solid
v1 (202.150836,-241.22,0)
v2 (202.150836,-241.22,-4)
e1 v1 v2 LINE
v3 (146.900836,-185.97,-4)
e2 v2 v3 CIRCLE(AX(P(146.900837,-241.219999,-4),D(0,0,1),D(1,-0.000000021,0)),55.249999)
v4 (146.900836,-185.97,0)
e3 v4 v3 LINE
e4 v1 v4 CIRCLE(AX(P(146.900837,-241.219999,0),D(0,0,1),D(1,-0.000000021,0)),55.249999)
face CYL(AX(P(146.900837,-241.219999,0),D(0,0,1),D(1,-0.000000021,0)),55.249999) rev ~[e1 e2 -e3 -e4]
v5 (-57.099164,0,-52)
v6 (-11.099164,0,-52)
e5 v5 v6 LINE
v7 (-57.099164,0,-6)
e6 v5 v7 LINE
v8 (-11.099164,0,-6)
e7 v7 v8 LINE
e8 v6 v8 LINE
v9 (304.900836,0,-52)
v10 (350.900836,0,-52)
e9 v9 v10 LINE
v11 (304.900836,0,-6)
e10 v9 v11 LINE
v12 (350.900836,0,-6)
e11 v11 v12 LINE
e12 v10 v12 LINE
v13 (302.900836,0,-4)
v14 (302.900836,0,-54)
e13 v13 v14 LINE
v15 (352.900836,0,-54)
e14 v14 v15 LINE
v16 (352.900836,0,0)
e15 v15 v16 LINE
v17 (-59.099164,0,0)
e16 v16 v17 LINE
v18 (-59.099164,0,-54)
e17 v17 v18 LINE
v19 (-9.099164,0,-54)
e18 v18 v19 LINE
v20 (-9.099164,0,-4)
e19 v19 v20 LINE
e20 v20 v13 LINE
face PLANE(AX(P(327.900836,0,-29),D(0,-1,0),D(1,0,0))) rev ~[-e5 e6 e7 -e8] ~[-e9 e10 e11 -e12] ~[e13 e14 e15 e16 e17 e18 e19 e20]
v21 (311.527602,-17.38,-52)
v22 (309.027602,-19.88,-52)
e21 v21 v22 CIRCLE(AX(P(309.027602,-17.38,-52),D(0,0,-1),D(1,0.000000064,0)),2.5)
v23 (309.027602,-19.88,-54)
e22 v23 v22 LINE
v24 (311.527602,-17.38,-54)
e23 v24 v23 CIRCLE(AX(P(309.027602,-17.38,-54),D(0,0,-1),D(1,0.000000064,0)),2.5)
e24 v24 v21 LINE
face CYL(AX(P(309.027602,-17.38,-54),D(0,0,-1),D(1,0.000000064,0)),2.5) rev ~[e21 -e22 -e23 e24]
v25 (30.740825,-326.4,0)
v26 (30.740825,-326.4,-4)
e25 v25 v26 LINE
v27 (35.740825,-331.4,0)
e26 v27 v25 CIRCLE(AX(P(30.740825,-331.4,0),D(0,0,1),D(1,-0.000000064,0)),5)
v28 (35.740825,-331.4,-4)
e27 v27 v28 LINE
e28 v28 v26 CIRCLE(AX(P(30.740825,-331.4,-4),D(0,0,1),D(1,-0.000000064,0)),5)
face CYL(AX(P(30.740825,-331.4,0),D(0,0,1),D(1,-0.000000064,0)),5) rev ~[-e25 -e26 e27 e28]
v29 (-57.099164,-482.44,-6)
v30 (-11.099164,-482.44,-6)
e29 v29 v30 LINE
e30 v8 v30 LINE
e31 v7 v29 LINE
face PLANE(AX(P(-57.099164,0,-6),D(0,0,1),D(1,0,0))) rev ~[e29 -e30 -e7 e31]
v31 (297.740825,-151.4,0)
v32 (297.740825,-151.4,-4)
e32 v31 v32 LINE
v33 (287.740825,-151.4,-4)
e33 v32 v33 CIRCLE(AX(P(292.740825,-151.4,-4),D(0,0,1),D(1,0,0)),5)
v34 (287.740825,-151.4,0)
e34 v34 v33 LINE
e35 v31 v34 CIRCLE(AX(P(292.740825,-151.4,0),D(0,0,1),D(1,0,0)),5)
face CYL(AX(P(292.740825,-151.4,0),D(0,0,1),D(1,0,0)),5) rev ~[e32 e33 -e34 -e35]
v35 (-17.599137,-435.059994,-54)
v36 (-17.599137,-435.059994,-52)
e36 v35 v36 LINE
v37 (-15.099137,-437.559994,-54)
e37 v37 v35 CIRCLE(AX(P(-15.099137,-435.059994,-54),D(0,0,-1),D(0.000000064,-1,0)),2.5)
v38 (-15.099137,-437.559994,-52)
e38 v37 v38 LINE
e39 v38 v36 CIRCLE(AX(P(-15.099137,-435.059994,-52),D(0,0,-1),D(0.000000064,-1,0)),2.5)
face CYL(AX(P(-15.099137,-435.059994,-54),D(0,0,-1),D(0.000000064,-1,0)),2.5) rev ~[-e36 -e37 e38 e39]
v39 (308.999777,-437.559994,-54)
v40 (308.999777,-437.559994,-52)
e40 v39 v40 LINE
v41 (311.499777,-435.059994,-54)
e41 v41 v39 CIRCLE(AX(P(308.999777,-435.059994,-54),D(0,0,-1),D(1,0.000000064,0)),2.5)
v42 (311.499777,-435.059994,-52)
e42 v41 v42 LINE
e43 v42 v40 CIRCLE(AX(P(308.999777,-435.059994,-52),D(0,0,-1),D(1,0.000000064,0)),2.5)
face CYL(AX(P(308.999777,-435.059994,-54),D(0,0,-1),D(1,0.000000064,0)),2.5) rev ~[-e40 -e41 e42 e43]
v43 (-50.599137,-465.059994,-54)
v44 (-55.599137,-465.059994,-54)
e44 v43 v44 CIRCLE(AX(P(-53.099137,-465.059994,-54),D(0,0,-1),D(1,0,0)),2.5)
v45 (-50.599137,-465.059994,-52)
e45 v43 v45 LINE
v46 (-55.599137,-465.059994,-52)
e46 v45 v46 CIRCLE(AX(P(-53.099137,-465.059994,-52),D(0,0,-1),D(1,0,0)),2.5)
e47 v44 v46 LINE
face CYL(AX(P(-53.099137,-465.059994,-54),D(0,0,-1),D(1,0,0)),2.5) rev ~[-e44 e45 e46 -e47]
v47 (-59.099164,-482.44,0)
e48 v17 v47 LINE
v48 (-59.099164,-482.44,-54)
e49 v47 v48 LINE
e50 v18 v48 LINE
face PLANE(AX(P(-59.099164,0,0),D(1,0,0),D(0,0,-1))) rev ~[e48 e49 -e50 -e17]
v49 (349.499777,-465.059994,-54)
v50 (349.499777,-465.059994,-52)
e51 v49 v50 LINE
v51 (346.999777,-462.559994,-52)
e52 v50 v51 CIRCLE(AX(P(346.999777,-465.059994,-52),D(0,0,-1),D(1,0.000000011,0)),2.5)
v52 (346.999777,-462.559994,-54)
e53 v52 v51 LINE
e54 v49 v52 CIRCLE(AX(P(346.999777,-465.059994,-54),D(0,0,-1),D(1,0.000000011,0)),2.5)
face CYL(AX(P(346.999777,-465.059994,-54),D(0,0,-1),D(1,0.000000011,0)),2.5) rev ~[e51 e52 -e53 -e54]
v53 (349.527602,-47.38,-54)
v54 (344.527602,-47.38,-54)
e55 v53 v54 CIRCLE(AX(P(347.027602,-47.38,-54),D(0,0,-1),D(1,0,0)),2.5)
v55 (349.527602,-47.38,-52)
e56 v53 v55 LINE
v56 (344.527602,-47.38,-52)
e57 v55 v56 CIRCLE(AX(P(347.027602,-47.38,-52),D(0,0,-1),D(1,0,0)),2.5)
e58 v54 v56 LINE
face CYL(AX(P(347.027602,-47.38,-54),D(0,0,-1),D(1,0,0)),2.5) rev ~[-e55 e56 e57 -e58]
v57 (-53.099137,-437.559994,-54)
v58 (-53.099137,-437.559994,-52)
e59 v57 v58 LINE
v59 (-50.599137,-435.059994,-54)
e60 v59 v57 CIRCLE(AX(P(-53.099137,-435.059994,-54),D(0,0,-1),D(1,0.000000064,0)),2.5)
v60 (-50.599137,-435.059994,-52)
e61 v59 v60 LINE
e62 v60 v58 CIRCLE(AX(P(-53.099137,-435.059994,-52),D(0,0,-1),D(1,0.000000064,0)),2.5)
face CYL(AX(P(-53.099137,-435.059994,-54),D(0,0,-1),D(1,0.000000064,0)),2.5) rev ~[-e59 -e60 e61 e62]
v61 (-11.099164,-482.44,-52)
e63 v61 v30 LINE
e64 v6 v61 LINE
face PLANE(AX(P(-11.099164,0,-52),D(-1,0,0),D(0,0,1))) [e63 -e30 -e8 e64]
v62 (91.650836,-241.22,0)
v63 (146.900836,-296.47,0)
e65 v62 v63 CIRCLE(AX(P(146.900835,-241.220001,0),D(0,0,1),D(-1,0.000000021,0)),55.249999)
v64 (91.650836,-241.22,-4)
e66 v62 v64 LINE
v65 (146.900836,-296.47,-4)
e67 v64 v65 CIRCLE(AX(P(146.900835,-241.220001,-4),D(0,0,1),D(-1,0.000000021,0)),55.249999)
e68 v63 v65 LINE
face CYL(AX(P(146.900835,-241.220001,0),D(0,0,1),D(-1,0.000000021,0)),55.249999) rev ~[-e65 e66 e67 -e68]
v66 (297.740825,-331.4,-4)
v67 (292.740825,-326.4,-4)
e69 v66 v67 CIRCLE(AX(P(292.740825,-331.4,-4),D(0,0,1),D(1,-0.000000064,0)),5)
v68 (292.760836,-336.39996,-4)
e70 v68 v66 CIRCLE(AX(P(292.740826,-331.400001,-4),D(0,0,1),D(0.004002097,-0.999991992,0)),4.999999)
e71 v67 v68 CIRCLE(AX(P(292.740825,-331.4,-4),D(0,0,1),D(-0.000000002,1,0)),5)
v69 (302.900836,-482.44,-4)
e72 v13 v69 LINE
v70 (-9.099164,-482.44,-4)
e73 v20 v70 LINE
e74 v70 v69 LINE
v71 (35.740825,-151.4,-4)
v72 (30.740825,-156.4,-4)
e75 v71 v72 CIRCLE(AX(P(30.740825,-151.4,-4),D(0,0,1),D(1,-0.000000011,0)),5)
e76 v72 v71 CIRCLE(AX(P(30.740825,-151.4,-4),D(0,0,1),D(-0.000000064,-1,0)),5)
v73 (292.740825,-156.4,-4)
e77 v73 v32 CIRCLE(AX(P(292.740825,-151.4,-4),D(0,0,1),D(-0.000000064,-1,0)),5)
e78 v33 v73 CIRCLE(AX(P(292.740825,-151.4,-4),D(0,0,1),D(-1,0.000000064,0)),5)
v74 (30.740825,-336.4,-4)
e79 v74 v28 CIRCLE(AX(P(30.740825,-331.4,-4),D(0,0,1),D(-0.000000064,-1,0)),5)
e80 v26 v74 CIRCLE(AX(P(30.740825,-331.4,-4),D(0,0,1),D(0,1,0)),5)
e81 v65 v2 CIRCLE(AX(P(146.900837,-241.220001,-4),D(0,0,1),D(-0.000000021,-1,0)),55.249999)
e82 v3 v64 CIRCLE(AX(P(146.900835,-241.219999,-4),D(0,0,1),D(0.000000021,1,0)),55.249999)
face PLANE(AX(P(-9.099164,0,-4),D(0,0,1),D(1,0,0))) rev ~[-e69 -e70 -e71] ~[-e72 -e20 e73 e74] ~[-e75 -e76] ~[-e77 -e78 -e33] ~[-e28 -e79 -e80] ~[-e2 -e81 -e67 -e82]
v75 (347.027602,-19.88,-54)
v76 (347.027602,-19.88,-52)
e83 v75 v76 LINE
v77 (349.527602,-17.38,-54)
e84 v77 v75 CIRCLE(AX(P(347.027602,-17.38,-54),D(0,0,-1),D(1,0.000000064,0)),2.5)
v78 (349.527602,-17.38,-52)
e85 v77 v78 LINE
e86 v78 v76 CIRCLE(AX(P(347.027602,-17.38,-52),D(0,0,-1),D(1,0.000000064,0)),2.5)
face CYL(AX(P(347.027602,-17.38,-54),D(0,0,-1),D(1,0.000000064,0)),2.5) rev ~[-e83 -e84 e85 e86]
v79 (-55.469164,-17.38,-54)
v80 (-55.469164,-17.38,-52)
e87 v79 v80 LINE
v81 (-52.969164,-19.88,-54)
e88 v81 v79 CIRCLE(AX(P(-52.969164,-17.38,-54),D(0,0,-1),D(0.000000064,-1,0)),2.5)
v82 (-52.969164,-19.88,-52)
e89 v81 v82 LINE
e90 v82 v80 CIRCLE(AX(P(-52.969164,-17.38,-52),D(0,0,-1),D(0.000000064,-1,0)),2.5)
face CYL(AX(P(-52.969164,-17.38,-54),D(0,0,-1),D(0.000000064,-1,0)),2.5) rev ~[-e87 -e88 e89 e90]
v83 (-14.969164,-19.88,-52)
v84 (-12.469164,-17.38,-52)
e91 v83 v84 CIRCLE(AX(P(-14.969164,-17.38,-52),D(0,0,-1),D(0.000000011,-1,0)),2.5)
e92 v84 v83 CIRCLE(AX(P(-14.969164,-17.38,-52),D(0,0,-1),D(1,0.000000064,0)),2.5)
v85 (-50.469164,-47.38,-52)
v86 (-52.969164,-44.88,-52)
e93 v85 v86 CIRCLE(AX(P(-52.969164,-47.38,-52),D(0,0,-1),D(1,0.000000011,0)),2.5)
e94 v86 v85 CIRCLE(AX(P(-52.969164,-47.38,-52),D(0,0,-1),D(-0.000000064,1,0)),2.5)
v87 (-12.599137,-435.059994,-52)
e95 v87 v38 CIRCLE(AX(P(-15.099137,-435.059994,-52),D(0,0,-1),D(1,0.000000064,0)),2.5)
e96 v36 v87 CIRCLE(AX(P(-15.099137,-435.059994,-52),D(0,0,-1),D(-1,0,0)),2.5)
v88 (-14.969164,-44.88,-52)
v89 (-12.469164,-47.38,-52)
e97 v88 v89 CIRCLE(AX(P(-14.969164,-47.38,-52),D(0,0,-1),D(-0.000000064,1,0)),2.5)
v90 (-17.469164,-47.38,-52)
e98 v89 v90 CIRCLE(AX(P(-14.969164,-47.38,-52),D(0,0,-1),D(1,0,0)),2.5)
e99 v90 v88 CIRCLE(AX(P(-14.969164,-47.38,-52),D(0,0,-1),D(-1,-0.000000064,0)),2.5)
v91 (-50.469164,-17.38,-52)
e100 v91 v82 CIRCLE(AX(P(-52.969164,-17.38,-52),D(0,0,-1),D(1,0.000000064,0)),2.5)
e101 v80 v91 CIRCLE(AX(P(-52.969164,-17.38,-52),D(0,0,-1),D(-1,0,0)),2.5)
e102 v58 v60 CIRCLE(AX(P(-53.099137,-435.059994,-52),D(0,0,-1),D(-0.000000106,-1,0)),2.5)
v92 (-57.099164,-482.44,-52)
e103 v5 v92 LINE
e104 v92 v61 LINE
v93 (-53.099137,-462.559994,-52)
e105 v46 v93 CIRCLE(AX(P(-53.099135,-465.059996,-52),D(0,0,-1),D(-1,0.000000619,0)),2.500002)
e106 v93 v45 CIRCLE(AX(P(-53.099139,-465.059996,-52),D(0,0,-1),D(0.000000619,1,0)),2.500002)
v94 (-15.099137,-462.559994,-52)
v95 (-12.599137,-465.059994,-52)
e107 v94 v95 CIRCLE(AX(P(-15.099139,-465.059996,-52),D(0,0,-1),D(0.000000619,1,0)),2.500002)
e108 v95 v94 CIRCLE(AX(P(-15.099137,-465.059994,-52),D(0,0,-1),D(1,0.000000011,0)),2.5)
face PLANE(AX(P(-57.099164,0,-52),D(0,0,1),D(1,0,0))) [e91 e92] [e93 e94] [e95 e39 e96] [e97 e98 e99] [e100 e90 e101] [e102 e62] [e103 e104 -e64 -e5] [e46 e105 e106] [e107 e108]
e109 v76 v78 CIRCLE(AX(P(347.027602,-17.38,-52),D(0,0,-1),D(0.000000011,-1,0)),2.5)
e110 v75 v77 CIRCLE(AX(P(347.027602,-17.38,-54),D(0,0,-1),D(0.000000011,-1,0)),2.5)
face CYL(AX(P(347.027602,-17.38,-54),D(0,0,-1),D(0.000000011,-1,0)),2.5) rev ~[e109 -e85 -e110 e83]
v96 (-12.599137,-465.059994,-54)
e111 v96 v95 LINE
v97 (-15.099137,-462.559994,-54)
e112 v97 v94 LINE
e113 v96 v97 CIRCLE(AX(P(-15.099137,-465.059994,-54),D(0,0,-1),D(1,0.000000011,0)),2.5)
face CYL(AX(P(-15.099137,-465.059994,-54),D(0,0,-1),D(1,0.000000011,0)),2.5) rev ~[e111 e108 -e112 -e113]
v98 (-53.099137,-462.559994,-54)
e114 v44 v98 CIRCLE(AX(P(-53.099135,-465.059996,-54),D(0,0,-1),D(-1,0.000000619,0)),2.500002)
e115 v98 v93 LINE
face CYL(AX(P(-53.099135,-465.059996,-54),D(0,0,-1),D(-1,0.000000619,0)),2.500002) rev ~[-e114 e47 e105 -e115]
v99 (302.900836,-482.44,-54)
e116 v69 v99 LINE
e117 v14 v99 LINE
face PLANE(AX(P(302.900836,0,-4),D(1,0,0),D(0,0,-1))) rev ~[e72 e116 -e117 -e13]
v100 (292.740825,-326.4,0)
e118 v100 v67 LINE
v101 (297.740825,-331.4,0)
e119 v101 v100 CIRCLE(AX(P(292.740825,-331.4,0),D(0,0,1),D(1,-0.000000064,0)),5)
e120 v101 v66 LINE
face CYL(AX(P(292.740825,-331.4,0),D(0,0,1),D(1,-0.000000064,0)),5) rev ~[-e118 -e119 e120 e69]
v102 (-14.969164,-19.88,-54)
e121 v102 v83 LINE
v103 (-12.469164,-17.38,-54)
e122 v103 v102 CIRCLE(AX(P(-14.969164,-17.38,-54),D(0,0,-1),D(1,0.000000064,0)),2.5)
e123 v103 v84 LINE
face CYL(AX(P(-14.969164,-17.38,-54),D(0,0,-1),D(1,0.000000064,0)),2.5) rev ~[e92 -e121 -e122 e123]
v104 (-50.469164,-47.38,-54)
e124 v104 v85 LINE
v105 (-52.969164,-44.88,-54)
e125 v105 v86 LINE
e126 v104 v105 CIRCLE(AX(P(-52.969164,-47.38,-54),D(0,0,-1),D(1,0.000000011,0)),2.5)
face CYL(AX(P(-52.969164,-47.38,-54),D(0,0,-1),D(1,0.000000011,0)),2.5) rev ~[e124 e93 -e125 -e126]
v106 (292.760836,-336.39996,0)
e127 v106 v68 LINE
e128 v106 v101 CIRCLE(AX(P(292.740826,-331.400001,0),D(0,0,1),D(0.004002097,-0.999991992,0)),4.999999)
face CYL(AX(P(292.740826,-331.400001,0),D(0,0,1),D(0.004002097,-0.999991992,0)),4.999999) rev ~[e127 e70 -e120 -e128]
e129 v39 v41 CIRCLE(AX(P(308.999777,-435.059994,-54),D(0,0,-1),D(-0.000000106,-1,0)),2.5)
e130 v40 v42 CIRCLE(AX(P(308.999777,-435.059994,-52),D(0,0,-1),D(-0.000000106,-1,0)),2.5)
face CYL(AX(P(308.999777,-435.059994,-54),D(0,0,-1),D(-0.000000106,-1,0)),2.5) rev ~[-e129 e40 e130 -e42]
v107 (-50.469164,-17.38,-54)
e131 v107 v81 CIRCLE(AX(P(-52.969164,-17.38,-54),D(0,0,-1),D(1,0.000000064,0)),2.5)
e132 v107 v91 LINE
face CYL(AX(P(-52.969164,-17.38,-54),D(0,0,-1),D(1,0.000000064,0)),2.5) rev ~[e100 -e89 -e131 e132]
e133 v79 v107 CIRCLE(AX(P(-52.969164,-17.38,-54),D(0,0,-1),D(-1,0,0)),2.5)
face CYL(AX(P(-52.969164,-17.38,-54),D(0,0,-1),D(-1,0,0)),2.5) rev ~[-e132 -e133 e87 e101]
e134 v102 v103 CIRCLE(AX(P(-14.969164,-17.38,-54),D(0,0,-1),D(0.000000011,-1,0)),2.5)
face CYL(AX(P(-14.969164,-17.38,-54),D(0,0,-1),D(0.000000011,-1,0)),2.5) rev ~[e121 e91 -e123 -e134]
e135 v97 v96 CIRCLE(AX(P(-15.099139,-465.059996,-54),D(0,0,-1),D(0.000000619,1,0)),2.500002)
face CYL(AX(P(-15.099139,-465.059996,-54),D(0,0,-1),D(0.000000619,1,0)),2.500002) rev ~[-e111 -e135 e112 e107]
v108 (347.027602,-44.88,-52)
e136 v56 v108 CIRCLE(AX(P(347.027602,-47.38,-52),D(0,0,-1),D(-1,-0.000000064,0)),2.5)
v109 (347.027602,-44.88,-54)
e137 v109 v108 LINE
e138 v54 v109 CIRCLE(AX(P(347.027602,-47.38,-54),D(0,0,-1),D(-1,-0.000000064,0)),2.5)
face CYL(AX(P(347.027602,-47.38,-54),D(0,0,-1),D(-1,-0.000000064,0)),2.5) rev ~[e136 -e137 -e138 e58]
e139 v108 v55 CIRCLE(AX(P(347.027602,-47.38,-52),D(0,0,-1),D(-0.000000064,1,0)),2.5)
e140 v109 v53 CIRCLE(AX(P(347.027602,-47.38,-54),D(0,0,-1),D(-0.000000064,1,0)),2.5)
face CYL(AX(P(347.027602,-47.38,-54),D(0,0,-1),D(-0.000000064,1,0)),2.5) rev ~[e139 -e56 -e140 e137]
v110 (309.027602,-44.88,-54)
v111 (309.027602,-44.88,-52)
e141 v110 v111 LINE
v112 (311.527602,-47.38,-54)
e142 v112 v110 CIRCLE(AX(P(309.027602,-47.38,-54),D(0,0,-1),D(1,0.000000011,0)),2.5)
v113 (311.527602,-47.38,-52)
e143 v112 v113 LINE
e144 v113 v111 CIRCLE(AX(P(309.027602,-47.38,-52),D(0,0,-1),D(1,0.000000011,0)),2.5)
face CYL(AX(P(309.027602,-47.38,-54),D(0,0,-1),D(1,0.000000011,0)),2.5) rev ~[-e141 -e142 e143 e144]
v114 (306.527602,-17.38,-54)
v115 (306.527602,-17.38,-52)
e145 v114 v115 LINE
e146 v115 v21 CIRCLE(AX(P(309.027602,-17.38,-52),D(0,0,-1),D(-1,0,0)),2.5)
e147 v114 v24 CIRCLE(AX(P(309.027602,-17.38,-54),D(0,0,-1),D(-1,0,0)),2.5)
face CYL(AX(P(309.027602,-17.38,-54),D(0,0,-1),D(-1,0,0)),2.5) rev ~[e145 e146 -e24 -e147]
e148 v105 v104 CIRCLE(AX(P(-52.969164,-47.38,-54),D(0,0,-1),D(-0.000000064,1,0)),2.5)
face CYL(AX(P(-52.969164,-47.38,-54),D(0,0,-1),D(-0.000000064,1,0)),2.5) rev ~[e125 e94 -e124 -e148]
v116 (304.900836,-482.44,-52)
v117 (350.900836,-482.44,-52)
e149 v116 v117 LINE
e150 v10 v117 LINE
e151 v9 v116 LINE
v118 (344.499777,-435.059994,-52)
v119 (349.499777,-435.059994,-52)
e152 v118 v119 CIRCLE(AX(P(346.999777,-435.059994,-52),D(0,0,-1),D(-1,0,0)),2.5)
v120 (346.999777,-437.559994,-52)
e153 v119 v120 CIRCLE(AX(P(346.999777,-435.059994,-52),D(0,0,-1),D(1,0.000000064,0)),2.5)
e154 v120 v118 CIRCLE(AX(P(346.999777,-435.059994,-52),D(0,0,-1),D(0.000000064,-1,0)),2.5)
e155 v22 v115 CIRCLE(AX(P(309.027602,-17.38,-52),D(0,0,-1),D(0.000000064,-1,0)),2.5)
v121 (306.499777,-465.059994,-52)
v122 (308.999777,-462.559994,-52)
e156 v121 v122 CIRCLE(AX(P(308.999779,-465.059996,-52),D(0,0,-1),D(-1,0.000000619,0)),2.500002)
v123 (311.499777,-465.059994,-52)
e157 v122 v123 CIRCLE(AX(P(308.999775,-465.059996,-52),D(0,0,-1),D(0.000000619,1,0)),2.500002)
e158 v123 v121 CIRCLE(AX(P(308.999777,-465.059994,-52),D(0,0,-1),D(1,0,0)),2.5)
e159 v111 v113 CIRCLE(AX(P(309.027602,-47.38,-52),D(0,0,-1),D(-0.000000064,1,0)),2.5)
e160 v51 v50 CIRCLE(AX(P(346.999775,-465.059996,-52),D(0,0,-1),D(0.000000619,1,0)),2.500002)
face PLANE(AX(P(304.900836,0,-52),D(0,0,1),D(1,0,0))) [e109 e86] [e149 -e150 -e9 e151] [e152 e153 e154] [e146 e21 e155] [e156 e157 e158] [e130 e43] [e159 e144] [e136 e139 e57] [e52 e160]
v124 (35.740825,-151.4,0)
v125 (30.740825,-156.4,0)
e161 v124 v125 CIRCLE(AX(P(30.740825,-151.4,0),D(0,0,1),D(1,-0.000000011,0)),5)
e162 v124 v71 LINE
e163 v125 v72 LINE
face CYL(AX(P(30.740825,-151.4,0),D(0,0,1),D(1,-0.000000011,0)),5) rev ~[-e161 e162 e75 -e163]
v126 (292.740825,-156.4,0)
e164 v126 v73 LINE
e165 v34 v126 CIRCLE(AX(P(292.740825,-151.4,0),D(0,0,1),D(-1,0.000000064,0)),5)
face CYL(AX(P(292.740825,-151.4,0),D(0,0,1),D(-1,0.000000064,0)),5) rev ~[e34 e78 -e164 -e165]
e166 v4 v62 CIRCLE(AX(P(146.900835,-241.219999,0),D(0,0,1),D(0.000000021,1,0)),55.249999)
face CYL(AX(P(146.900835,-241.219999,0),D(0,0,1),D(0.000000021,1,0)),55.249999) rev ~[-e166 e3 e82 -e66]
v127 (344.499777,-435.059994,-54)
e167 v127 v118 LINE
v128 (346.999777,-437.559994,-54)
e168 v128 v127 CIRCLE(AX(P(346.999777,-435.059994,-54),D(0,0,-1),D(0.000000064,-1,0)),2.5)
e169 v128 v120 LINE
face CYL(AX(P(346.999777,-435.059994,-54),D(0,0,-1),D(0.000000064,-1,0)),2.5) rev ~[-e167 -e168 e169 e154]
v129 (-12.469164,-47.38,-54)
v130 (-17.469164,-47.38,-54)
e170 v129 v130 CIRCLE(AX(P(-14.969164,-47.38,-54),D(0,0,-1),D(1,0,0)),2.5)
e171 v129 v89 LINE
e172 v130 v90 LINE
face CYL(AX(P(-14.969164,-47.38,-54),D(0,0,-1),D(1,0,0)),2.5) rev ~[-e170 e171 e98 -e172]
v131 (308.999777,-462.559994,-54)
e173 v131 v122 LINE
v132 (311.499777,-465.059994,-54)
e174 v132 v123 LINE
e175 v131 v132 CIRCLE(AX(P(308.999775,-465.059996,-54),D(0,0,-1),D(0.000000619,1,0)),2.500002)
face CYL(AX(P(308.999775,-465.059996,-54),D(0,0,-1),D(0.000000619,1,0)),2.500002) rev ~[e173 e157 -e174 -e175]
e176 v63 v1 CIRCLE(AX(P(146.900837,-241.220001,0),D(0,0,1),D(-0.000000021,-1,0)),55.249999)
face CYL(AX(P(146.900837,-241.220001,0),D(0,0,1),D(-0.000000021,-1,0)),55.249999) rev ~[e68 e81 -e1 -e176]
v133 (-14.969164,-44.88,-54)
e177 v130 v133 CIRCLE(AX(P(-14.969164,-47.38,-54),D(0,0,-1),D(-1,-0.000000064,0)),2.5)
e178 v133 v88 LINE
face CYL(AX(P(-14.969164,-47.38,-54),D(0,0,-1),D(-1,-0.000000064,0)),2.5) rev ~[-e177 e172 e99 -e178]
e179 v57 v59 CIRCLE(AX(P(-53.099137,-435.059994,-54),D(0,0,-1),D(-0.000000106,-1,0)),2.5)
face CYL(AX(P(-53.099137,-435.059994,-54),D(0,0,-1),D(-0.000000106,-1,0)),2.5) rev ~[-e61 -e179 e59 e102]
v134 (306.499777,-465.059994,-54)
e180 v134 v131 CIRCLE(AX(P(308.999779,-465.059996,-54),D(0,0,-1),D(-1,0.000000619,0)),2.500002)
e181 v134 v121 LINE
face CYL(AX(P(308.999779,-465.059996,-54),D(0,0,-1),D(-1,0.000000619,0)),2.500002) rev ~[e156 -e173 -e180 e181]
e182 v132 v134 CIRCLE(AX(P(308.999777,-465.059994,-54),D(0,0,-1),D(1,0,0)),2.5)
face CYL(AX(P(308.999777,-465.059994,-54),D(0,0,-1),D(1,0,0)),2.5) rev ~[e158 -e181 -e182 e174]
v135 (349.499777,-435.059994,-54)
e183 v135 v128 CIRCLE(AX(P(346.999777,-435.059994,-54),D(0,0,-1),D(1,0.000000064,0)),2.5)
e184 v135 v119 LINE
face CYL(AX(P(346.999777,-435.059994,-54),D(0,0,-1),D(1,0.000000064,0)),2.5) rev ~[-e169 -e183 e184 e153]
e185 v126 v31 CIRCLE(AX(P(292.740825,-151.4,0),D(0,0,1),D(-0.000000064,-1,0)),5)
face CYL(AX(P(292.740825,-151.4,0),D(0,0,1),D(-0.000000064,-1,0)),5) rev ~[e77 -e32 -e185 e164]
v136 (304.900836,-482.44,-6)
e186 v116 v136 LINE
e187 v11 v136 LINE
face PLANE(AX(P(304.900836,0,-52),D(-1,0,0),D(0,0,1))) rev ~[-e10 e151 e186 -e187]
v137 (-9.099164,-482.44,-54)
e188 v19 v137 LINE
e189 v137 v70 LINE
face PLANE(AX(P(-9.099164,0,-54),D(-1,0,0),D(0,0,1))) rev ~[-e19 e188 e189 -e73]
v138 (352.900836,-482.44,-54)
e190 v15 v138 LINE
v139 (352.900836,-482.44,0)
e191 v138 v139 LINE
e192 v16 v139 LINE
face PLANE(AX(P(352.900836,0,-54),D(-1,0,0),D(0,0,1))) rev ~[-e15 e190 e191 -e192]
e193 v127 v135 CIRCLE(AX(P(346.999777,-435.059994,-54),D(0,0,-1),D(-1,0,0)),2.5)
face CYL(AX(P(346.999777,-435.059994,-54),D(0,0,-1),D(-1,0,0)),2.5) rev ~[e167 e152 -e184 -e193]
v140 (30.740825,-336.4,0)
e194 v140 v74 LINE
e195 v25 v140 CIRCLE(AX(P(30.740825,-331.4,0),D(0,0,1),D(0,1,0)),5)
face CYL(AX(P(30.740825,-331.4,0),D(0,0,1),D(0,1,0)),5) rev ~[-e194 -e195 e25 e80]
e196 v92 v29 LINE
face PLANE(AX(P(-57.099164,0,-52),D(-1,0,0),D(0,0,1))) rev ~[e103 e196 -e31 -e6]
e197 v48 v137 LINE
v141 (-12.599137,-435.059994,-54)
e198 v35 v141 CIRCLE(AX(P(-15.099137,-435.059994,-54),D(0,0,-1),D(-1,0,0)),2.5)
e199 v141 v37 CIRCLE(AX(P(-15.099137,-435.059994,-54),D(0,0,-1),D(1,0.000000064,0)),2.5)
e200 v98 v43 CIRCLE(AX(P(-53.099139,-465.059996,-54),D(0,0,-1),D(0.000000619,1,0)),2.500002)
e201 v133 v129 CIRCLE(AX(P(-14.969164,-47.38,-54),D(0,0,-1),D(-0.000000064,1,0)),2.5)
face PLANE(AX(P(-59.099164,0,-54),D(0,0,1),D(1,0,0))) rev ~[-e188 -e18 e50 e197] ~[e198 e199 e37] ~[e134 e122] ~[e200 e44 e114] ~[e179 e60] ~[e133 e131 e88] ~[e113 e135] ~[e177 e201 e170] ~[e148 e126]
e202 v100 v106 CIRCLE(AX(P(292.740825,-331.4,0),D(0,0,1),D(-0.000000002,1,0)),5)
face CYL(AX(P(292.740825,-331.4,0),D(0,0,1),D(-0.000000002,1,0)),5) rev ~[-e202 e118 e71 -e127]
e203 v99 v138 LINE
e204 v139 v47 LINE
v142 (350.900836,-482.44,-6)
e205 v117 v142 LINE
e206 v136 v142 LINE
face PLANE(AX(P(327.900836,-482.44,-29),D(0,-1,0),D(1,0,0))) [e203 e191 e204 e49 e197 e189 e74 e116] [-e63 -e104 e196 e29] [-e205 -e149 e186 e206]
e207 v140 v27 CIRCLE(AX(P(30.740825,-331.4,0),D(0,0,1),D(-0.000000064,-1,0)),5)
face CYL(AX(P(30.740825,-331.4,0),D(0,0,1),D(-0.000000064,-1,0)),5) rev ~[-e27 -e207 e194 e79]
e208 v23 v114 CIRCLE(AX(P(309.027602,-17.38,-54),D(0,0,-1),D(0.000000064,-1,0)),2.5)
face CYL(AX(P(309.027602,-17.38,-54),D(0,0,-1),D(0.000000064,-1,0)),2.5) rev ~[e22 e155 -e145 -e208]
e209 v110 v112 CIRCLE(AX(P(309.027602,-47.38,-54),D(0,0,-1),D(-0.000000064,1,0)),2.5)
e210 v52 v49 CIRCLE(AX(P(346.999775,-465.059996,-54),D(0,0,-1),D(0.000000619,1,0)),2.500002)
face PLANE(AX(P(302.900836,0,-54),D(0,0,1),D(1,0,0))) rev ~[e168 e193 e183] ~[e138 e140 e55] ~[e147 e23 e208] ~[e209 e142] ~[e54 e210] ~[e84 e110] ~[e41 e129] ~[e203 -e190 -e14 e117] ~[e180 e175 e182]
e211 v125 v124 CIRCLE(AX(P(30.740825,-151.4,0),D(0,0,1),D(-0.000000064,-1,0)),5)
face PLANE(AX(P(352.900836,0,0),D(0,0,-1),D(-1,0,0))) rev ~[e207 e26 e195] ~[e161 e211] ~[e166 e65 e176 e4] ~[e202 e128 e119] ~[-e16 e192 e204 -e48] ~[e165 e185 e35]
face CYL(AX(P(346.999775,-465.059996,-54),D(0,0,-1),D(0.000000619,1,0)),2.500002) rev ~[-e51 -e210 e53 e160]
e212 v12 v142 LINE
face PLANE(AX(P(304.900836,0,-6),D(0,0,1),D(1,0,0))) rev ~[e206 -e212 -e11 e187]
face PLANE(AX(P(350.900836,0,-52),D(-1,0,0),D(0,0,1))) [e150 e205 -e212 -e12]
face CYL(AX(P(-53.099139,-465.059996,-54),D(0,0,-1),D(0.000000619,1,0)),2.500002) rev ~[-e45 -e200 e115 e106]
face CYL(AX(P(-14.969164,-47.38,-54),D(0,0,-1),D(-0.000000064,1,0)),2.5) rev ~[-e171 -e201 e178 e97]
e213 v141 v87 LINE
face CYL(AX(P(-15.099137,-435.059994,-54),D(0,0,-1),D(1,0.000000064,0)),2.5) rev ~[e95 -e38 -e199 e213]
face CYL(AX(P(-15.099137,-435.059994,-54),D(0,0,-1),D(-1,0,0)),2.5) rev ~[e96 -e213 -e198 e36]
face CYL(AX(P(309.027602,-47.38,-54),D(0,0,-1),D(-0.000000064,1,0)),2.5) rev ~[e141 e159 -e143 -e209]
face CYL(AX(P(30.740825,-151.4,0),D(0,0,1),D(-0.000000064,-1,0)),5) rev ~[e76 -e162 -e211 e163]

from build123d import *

# Parameters (mm, degrees)
F0_W      = 46
F0_H      = 46
F1_DEPTH  = 482.44
F3_DEPTH  = 25
F5_DEPTH  = 25
F7_DEPTH  = 25
F8_DEPTH  = 25
F9_DEPTH  = 25
F11_DEPTH = 25
F12_DEPTH = 25


with BuildPart() as f1:
    # F0 (on Front) → F1 (new body)
    with BuildSketch(Plane.XZ):
        Polygon((352.900836, -54), (352.900836, -4), (304.900836, -4), (302.900836, -4), (302.900836, -54), align=None)
        with Locations((327.900836, -29)):
            Rectangle(F0_W, F0_H, mode=Mode.SUBTRACT)
        Polygon((352.900836, -4), (352.900836, 0), (-59.099164, 0), (-59.099164, -4), (-57.099164, -4), (-9.099164, -4), (302.900836, -4), (304.900836, -4), align=None)
        Polygon((-57.099164, -4), (-59.099164, -4), (-59.099164, -54), (-9.099164, -54), (-9.099164, -4), align=None)
        with Locations((-34.099164, -29)):
            Rectangle(F0_W, F0_H, mode=Mode.SUBTRACT)
    extrude(amount=F1_DEPTH)

    # F2 (on face) → F3 (cut)
    with BuildSketch(Plane.XY):
        with BuildLine():
            ThreePointArc((202.150836, -241.22), (185.968486, -202.15235), (146.900836, -185.97))
            Line((146.900836, -185.97), (146.900836, -241.22))
            Line((146.900836, -241.22), (202.150836, -241.22))
        make_face()
        with BuildLine():
            Line((146.900836, -241.22), (146.900836, -185.97))
            ThreePointArc((146.900836, -185.97), (107.833186, -202.15235), (91.650836, -241.22))
            Line((91.650836, -241.22), (146.900836, -241.22))
        make_face()
        with BuildLine():
            Line((202.150836, -241.22), (146.900836, -241.22))
            Line((146.900836, -241.22), (146.900836, -296.47))
            ThreePointArc((146.900836, -296.47), (185.968486, -280.28765), (202.150836, -241.22))
        make_face()
        with BuildLine():
            Line((146.900836, -296.47), (146.900836, -241.22))
            Line((146.900836, -241.22), (91.650836, -241.22))
            ThreePointArc((91.650836, -241.22), (107.833186, -280.28765), (146.900836, -296.47))
        make_face()
    extrude(amount=-F3_DEPTH, mode=Mode.SUBTRACT)

    # F4 (on face) → F5 (cut)
    with BuildSketch(Plane(origin=(0, 0, -54), x_dir=(1, 0, 0), z_dir=(0, 0, -1))):
        with BuildLine():
            Line((-14.969164, 47.38), (-17.469164, 47.38))
            ThreePointArc((-17.469164, 47.38), (-16.736931, 45.612233), (-14.969164, 44.88))
            Line((-14.969164, 44.88), (-14.969164, 47.38))
        make_face()
        with BuildLine():
            ThreePointArc((-12.469164, 47.38), (-14.969164, 49.88), (-17.469164, 47.38))
            Line((-17.469164, 47.38), (-14.969164, 47.38))
            Line((-14.969164, 47.38), (-14.969164, 44.88))
            ThreePointArc((-14.969164, 44.88), (-13.201397, 45.612233), (-12.469164, 47.38))
        make_face()
        with BuildLine():
            ThreePointArc((-50.469164, 47.38), (-54.736931, 49.147767), (-52.969164, 44.88))
            Line((-52.969164, 44.88), (-52.969164, 47.38))
            Line((-52.969164, 47.38), (-50.469164, 47.38))
        make_face()
        with BuildLine():
            Line((-52.969164, 47.38), (-52.969164, 44.88))
            ThreePointArc((-52.969164, 44.88), (-51.201397, 45.612233), (-50.469164, 47.38))
            Line((-50.469164, 47.38), (-52.969164, 47.38))
        make_face()
        with BuildLine():
            ThreePointArc((-52.969164, 19.88), (-54.736931, 19.147767), (-55.469164, 17.38))
            Line((-55.469164, 17.38), (-52.969164, 17.38))
            Line((-52.969164, 17.38), (-52.969164, 19.88))
        make_face()
        with BuildLine():
            Line((-52.969164, 17.38), (-55.469164, 17.38))
            ThreePointArc((-55.469164, 17.38), (-52.969164, 14.88), (-50.469164, 17.38))
            ThreePointArc((-50.469164, 17.38), (-51.201397, 19.147767), (-52.969164, 19.88))
            Line((-52.969164, 19.88), (-52.969164, 17.38))
        make_face()
        with BuildLine():
            ThreePointArc((-12.469164, 17.38), (-13.201397, 19.147767), (-14.969164, 19.88))
            ThreePointArc((-14.969164, 19.88), (-16.736931, 15.612233), (-12.469164, 17.38))
        make_face()
    extrude(amount=-F5_DEPTH, mode=Mode.SUBTRACT)

    # F6 (on face) → F7 (cut)
    with BuildSketch(Plane(origin=(0, 0, -54), x_dir=(1, 0, 0), z_dir=(0, 0, -1))):
        with BuildLine():
            ThreePointArc((349.499777, 465.059994), (345.23201, 466.827761), (346.999777, 462.559994))
            ThreePointArc((346.999777, 462.559994), (348.767544, 463.292228), (349.499777, 465.059994))
        make_face()
        with BuildLine():
            Line((346.999777, 435.059994), (344.499777, 435.059994))
            ThreePointArc((344.499777, 435.059994), (346.999777, 432.559994), (349.499777, 435.059994))
            ThreePointArc((349.499777, 435.059994), (348.767544, 436.827761), (346.999777, 437.559994))
            Line((346.999777, 437.559994), (346.999777, 435.059994))
        make_face()
        with BuildLine():
            ThreePointArc((346.999777, 437.559994), (345.23201, 436.827761), (344.499777, 435.059994))
            Line((344.499777, 435.059994), (346.999777, 435.059994))
            Line((346.999777, 435.059994), (346.999777, 437.559994))
        make_face()
        with BuildLine():
            Line((308.999777, 435.059994), (308.999777, 437.559994))
            ThreePointArc((308.999777, 437.559994), (307.23201, 433.292228), (311.499777, 435.059994))
            Line((311.499777, 435.059994), (308.999777, 435.059994))
        make_face()
        with BuildLine():
            ThreePointArc((311.499777, 435.059994), (310.767544, 436.827761), (308.999777, 437.559994))
            Line((308.999777, 437.559994), (308.999777, 435.059994))
            Line((308.999777, 435.059994), (311.499777, 435.059994))
        make_face()
        with BuildLine():
            Line((308.999777, 465.059994), (306.499777, 465.059994))
            ThreePointArc((306.499777, 465.059994), (307.23201, 463.292228), (308.999777, 462.559994))
            Line((308.999777, 462.559994), (308.999777, 465.059994))
        make_face()
        with BuildLine():
            ThreePointArc((311.499777, 465.059994), (308.999777, 467.559994), (306.499777, 465.059994))
            Line((306.499777, 465.059994), (308.999777, 465.059994))
            Line((308.999777, 465.059994), (308.999777, 462.559994))
            ThreePointArc((308.999777, 462.559994), (310.767544, 463.292228), (311.499777, 465.059994))
        make_face()
    extrude(amount=-F7_DEPTH, mode=Mode.SUBTRACT)

    # F6 (on face) → F8 (cut)
    with BuildSketch(Plane(origin=(0, 0, -54), x_dir=(1, 0, 0), z_dir=(0, 0, -1))):
        with BuildLine():
            ThreePointArc((-12.599137, 465.059994), (-16.866904, 466.827761), (-15.099137, 462.559994))
            ThreePointArc((-15.099137, 462.559994), (-13.33137, 463.292228), (-12.599137, 465.059994))
        make_face()
        with BuildLine():
            ThreePointArc((-50.599137, 465.059994), (-53.099137, 467.559994), (-55.599137, 465.059994))
            Line((-55.599137, 465.059994), (-53.099137, 465.059994))
            Line((-53.099137, 465.059994), (-53.099137, 462.559994))
            ThreePointArc((-53.099137, 462.559994), (-51.33137, 463.292228), (-50.599137, 465.059994))
        make_face()
        with BuildLine():
            Line((-53.099137, 465.059994), (-55.599137, 465.059994))
            ThreePointArc((-55.599137, 465.059994), (-54.866904, 463.292228), (-53.099137, 462.559994))
            Line((-53.099137, 462.559994), (-53.099137, 465.059994))
        make_face()
        with BuildLine():
            Line((-53.099137, 435.059994), (-53.099137, 437.559994))
            ThreePointArc((-53.099137, 437.559994), (-54.866904, 433.292228), (-50.599137, 435.059994))
            Line((-50.599137, 435.059994), (-53.099137, 435.059994))
        make_face()
        with BuildLine():
            ThreePointArc((-50.599137, 435.059994), (-51.33137, 436.827761), (-53.099137, 437.559994))
            Line((-53.099137, 437.559994), (-53.099137, 435.059994))
            Line((-53.099137, 435.059994), (-50.599137, 435.059994))
        make_face()
        with BuildLine():
            ThreePointArc((-15.099137, 437.559994), (-16.866904, 436.827761), (-17.599137, 435.059994))
            Line((-17.599137, 435.059994), (-15.099137, 435.059994))
            Line((-15.099137, 435.059994), (-15.099137, 437.559994))
        make_face()
        with BuildLine():
            Line((-15.099137, 435.059994), (-17.599137, 435.059994))
            ThreePointArc((-17.599137, 435.059994), (-15.099137, 432.559994), (-12.599137, 435.059994))
            ThreePointArc((-12.599137, 435.059994), (-13.33137, 436.827761), (-15.099137, 437.559994))
            Line((-15.099137, 437.559994), (-15.099137, 435.059994))
        make_face()
    extrude(amount=-F8_DEPTH, mode=Mode.SUBTRACT)

    # F4 (on face) → F9 (cut)
    with BuildSketch(Plane(origin=(0, 0, -54), x_dir=(1, 0, 0), z_dir=(0, 0, -1))):
        with BuildLine():
            ThreePointArc((-52.969164, 19.88), (-54.736931, 19.147767), (-55.469164, 17.38))
            Line((-55.469164, 17.38), (-52.969164, 17.38))
            Line((-52.969164, 17.38), (-52.969164, 19.88))
        make_face()
        with BuildLine():
            ThreePointArc((-12.469164, 17.38), (-13.201397, 19.147767), (-14.969164, 19.88))
            ThreePointArc((-14.969164, 19.88), (-16.736931, 15.612233), (-12.469164, 17.38))
        make_face()
        with BuildLine():
            ThreePointArc((-12.469164, 47.38), (-14.969164, 49.88), (-17.469164, 47.38))
            Line((-17.469164, 47.38), (-14.969164, 47.38))
            Line((-14.969164, 47.38), (-14.969164, 44.88))
            ThreePointArc((-14.969164, 44.88), (-13.201397, 45.612233), (-12.469164, 47.38))
        make_face()
        with BuildLine():
            Line((-14.969164, 47.38), (-17.469164, 47.38))
            ThreePointArc((-17.469164, 47.38), (-16.736931, 45.612233), (-14.969164, 44.88))
            Line((-14.969164, 44.88), (-14.969164, 47.38))
        make_face()
        with BuildLine():
            ThreePointArc((-50.469164, 47.38), (-54.736931, 49.147767), (-52.969164, 44.88))
            Line((-52.969164, 44.88), (-52.969164, 47.38))
            Line((-52.969164, 47.38), (-50.469164, 47.38))
        make_face()
        with BuildLine():
            Line((-52.969164, 47.38), (-52.969164, 44.88))
            ThreePointArc((-52.969164, 44.88), (-51.201397, 45.612233), (-50.469164, 47.38))
            Line((-50.469164, 47.38), (-52.969164, 47.38))
        make_face()
        with BuildLine():
            Line((-52.969164, 17.38), (-55.469164, 17.38))
            ThreePointArc((-55.469164, 17.38), (-52.969164, 14.88), (-50.469164, 17.38))
            ThreePointArc((-50.469164, 17.38), (-51.201397, 19.147767), (-52.969164, 19.88))
            Line((-52.969164, 19.88), (-52.969164, 17.38))
        make_face()
        with BuildLine():
            ThreePointArc((309.027602, 19.88), (307.259835, 19.147767), (306.527602, 17.38))
            Line((306.527602, 17.38), (309.027602, 17.38))
            Line((309.027602, 17.38), (309.027602, 19.88))
        make_face()
        with BuildLine():
            ThreePointArc((349.527602, 17.38), (348.795369, 19.147767), (347.027602, 19.88))
            ThreePointArc((347.027602, 19.88), (345.259835, 15.612233), (349.527602, 17.38))
        make_face()
        with BuildLine():
            ThreePointArc((349.527602, 47.38), (347.027602, 49.88), (344.527602, 47.38))
            Line((344.527602, 47.38), (347.027602, 47.38))
            Line((347.027602, 47.38), (347.027602, 44.88))
            ThreePointArc((347.027602, 44.88), (348.795369, 45.612233), (349.527602, 47.38))
        make_face()
        with BuildLine():
            Line((347.027602, 47.38), (344.527602, 47.38))
            ThreePointArc((344.527602, 47.38), (345.259835, 45.612233), (347.027602, 44.88))
            Line((347.027602, 44.88), (347.027602, 47.38))
        make_face()
        with BuildLine():
            ThreePointArc((311.527602, 47.38), (307.259835, 49.147767), (309.027602, 44.88))
            Line((309.027602, 44.88), (309.027602, 47.38))
            Line((309.027602, 47.38), (311.527602, 47.38))
        make_face()
        with BuildLine():
            Line((309.027602, 47.38), (309.027602, 44.88))
            ThreePointArc((309.027602, 44.88), (310.795369, 45.612233), (311.527602, 47.38))
            Line((311.527602, 47.38), (309.027602, 47.38))
        make_face()
        with BuildLine():
            Line((309.027602, 17.38), (306.527602, 17.38))
            ThreePointArc((306.527602, 17.38), (309.027602, 14.88), (311.527602, 17.38))
            ThreePointArc((311.527602, 17.38), (310.795369, 19.147767), (309.027602, 19.88))
            Line((309.027602, 19.88), (309.027602, 17.38))
        make_face()
    extrude(amount=-F9_DEPTH, mode=Mode.SUBTRACT)

    # F10 (on face) → F11 (cut)
    with BuildSketch(Plane.XY):
        with BuildLine():
            ThreePointArc((30.740825, -326.4), (25.740825, -331.4), (30.740825, -336.4))
            Line((30.740825, -336.4), (30.740825, -331.4))
            Line((30.740825, -331.4), (30.740825, -326.4))
        make_face()
        with BuildLine():
            ThreePointArc((297.740825, -331.4), (296.276359, -327.864466), (292.740825, -326.4))
            ThreePointArc((292.740825, -326.4), (287.740835, -331.410006), (292.760836, -336.39996))
            ThreePointArc((292.760836, -336.39996), (296.283427, -334.928452), (297.740825, -331.4))
        make_face()
        with BuildLine():
            ThreePointArc((297.740825, -151.4), (292.740825, -146.4), (287.740825, -151.4))
            Line((287.740825, -151.4), (292.740825, -151.4))
            Line((292.740825, -151.4), (292.740825, -156.4))
            ThreePointArc((292.740825, -156.4), (296.276359, -154.935534), (297.740825, -151.4))
        make_face()
        with BuildLine():
            Line((292.740825, -151.4), (287.740825, -151.4))
            ThreePointArc((287.740825, -151.4), (289.205291, -154.935534), (292.740825, -156.4))
            Line((292.740825, -156.4), (292.740825, -151.4))
        make_face()
        with BuildLine():
            ThreePointArc((35.740825, -151.4), (27.205291, -147.864466), (30.740825, -156.4))
            Line((30.740825, -156.4), (30.740825, -151.4))
            Line((30.740825, -151.4), (35.740825, -151.4))
        make_face()
        with BuildLine():
            Line((30.740825, -151.4), (30.740825, -156.4))
            ThreePointArc((30.740825, -156.4), (34.276359, -154.935534), (35.740825, -151.4))
            Line((35.740825, -151.4), (30.740825, -151.4))
        make_face()
        with BuildLine():
            Line((30.740825, -331.4), (30.740825, -336.4))
            ThreePointArc((30.740825, -336.4), (34.276359, -334.935534), (35.740825, -331.4))
            ThreePointArc((35.740825, -331.4), (34.276359, -327.864466), (30.740825, -326.4))
            Line((30.740825, -326.4), (30.740825, -331.4))
        make_face()
    extrude(amount=-F11_DEPTH, mode=Mode.SUBTRACT)

    # F10 (on face) → F12 (cut)
    with BuildSketch(Plane.XY):
        with BuildLine():
            ThreePointArc((30.740825, -326.4), (25.740825, -331.4), (30.740825, -336.4))
            Line((30.740825, -336.4), (30.740825, -331.4))
            Line((30.740825, -331.4), (30.740825, -326.4))
        make_face()
        with BuildLine():
            ThreePointArc((297.740825, -331.4), (296.276359, -327.864466), (292.740825, -326.4))
            ThreePointArc((292.740825, -326.4), (287.740835, -331.410006), (292.760836, -336.39996))
            ThreePointArc((292.760836, -336.39996), (296.283427, -334.928452), (297.740825, -331.4))
        make_face()
        with BuildLine():
            ThreePointArc((297.740825, -151.4), (292.740825, -146.4), (287.740825, -151.4))
            Line((287.740825, -151.4), (292.740825, -151.4))
            Line((292.740825, -151.4), (292.740825, -156.4))
            ThreePointArc((292.740825, -156.4), (296.276359, -154.935534), (297.740825, -151.4))
        make_face()
        with BuildLine():
            Line((292.740825, -151.4), (287.740825, -151.4))
            ThreePointArc((287.740825, -151.4), (289.205291, -154.935534), (292.740825, -156.4))
            Line((292.740825, -156.4), (292.740825, -151.4))
        make_face()
        with BuildLine():
            ThreePointArc((35.740825, -151.4), (27.205291, -147.864466), (30.740825, -156.4))
            Line((30.740825, -156.4), (30.740825, -151.4))
            Line((30.740825, -151.4), (35.740825, -151.4))
        make_face()
        with BuildLine():
            Line((30.740825, -151.4), (30.740825, -156.4))
            ThreePointArc((30.740825, -156.4), (34.276359, -154.935534), (35.740825, -151.4))
            Line((35.740825, -151.4), (30.740825, -151.4))
        make_face()
        with BuildLine():
            Line((30.740825, -331.4), (30.740825, -336.4))
            ThreePointArc((30.740825, -336.4), (34.276359, -334.935534), (35.740825, -331.4))
            ThreePointArc((35.740825, -331.4), (34.276359, -327.864466), (30.740825, -326.4))
            Line((30.740825, -326.4), (30.740825, -331.4))
        make_face()
    extrude(amount=-F12_DEPTH, mode=Mode.SUBTRACT)


solid = f1.part
